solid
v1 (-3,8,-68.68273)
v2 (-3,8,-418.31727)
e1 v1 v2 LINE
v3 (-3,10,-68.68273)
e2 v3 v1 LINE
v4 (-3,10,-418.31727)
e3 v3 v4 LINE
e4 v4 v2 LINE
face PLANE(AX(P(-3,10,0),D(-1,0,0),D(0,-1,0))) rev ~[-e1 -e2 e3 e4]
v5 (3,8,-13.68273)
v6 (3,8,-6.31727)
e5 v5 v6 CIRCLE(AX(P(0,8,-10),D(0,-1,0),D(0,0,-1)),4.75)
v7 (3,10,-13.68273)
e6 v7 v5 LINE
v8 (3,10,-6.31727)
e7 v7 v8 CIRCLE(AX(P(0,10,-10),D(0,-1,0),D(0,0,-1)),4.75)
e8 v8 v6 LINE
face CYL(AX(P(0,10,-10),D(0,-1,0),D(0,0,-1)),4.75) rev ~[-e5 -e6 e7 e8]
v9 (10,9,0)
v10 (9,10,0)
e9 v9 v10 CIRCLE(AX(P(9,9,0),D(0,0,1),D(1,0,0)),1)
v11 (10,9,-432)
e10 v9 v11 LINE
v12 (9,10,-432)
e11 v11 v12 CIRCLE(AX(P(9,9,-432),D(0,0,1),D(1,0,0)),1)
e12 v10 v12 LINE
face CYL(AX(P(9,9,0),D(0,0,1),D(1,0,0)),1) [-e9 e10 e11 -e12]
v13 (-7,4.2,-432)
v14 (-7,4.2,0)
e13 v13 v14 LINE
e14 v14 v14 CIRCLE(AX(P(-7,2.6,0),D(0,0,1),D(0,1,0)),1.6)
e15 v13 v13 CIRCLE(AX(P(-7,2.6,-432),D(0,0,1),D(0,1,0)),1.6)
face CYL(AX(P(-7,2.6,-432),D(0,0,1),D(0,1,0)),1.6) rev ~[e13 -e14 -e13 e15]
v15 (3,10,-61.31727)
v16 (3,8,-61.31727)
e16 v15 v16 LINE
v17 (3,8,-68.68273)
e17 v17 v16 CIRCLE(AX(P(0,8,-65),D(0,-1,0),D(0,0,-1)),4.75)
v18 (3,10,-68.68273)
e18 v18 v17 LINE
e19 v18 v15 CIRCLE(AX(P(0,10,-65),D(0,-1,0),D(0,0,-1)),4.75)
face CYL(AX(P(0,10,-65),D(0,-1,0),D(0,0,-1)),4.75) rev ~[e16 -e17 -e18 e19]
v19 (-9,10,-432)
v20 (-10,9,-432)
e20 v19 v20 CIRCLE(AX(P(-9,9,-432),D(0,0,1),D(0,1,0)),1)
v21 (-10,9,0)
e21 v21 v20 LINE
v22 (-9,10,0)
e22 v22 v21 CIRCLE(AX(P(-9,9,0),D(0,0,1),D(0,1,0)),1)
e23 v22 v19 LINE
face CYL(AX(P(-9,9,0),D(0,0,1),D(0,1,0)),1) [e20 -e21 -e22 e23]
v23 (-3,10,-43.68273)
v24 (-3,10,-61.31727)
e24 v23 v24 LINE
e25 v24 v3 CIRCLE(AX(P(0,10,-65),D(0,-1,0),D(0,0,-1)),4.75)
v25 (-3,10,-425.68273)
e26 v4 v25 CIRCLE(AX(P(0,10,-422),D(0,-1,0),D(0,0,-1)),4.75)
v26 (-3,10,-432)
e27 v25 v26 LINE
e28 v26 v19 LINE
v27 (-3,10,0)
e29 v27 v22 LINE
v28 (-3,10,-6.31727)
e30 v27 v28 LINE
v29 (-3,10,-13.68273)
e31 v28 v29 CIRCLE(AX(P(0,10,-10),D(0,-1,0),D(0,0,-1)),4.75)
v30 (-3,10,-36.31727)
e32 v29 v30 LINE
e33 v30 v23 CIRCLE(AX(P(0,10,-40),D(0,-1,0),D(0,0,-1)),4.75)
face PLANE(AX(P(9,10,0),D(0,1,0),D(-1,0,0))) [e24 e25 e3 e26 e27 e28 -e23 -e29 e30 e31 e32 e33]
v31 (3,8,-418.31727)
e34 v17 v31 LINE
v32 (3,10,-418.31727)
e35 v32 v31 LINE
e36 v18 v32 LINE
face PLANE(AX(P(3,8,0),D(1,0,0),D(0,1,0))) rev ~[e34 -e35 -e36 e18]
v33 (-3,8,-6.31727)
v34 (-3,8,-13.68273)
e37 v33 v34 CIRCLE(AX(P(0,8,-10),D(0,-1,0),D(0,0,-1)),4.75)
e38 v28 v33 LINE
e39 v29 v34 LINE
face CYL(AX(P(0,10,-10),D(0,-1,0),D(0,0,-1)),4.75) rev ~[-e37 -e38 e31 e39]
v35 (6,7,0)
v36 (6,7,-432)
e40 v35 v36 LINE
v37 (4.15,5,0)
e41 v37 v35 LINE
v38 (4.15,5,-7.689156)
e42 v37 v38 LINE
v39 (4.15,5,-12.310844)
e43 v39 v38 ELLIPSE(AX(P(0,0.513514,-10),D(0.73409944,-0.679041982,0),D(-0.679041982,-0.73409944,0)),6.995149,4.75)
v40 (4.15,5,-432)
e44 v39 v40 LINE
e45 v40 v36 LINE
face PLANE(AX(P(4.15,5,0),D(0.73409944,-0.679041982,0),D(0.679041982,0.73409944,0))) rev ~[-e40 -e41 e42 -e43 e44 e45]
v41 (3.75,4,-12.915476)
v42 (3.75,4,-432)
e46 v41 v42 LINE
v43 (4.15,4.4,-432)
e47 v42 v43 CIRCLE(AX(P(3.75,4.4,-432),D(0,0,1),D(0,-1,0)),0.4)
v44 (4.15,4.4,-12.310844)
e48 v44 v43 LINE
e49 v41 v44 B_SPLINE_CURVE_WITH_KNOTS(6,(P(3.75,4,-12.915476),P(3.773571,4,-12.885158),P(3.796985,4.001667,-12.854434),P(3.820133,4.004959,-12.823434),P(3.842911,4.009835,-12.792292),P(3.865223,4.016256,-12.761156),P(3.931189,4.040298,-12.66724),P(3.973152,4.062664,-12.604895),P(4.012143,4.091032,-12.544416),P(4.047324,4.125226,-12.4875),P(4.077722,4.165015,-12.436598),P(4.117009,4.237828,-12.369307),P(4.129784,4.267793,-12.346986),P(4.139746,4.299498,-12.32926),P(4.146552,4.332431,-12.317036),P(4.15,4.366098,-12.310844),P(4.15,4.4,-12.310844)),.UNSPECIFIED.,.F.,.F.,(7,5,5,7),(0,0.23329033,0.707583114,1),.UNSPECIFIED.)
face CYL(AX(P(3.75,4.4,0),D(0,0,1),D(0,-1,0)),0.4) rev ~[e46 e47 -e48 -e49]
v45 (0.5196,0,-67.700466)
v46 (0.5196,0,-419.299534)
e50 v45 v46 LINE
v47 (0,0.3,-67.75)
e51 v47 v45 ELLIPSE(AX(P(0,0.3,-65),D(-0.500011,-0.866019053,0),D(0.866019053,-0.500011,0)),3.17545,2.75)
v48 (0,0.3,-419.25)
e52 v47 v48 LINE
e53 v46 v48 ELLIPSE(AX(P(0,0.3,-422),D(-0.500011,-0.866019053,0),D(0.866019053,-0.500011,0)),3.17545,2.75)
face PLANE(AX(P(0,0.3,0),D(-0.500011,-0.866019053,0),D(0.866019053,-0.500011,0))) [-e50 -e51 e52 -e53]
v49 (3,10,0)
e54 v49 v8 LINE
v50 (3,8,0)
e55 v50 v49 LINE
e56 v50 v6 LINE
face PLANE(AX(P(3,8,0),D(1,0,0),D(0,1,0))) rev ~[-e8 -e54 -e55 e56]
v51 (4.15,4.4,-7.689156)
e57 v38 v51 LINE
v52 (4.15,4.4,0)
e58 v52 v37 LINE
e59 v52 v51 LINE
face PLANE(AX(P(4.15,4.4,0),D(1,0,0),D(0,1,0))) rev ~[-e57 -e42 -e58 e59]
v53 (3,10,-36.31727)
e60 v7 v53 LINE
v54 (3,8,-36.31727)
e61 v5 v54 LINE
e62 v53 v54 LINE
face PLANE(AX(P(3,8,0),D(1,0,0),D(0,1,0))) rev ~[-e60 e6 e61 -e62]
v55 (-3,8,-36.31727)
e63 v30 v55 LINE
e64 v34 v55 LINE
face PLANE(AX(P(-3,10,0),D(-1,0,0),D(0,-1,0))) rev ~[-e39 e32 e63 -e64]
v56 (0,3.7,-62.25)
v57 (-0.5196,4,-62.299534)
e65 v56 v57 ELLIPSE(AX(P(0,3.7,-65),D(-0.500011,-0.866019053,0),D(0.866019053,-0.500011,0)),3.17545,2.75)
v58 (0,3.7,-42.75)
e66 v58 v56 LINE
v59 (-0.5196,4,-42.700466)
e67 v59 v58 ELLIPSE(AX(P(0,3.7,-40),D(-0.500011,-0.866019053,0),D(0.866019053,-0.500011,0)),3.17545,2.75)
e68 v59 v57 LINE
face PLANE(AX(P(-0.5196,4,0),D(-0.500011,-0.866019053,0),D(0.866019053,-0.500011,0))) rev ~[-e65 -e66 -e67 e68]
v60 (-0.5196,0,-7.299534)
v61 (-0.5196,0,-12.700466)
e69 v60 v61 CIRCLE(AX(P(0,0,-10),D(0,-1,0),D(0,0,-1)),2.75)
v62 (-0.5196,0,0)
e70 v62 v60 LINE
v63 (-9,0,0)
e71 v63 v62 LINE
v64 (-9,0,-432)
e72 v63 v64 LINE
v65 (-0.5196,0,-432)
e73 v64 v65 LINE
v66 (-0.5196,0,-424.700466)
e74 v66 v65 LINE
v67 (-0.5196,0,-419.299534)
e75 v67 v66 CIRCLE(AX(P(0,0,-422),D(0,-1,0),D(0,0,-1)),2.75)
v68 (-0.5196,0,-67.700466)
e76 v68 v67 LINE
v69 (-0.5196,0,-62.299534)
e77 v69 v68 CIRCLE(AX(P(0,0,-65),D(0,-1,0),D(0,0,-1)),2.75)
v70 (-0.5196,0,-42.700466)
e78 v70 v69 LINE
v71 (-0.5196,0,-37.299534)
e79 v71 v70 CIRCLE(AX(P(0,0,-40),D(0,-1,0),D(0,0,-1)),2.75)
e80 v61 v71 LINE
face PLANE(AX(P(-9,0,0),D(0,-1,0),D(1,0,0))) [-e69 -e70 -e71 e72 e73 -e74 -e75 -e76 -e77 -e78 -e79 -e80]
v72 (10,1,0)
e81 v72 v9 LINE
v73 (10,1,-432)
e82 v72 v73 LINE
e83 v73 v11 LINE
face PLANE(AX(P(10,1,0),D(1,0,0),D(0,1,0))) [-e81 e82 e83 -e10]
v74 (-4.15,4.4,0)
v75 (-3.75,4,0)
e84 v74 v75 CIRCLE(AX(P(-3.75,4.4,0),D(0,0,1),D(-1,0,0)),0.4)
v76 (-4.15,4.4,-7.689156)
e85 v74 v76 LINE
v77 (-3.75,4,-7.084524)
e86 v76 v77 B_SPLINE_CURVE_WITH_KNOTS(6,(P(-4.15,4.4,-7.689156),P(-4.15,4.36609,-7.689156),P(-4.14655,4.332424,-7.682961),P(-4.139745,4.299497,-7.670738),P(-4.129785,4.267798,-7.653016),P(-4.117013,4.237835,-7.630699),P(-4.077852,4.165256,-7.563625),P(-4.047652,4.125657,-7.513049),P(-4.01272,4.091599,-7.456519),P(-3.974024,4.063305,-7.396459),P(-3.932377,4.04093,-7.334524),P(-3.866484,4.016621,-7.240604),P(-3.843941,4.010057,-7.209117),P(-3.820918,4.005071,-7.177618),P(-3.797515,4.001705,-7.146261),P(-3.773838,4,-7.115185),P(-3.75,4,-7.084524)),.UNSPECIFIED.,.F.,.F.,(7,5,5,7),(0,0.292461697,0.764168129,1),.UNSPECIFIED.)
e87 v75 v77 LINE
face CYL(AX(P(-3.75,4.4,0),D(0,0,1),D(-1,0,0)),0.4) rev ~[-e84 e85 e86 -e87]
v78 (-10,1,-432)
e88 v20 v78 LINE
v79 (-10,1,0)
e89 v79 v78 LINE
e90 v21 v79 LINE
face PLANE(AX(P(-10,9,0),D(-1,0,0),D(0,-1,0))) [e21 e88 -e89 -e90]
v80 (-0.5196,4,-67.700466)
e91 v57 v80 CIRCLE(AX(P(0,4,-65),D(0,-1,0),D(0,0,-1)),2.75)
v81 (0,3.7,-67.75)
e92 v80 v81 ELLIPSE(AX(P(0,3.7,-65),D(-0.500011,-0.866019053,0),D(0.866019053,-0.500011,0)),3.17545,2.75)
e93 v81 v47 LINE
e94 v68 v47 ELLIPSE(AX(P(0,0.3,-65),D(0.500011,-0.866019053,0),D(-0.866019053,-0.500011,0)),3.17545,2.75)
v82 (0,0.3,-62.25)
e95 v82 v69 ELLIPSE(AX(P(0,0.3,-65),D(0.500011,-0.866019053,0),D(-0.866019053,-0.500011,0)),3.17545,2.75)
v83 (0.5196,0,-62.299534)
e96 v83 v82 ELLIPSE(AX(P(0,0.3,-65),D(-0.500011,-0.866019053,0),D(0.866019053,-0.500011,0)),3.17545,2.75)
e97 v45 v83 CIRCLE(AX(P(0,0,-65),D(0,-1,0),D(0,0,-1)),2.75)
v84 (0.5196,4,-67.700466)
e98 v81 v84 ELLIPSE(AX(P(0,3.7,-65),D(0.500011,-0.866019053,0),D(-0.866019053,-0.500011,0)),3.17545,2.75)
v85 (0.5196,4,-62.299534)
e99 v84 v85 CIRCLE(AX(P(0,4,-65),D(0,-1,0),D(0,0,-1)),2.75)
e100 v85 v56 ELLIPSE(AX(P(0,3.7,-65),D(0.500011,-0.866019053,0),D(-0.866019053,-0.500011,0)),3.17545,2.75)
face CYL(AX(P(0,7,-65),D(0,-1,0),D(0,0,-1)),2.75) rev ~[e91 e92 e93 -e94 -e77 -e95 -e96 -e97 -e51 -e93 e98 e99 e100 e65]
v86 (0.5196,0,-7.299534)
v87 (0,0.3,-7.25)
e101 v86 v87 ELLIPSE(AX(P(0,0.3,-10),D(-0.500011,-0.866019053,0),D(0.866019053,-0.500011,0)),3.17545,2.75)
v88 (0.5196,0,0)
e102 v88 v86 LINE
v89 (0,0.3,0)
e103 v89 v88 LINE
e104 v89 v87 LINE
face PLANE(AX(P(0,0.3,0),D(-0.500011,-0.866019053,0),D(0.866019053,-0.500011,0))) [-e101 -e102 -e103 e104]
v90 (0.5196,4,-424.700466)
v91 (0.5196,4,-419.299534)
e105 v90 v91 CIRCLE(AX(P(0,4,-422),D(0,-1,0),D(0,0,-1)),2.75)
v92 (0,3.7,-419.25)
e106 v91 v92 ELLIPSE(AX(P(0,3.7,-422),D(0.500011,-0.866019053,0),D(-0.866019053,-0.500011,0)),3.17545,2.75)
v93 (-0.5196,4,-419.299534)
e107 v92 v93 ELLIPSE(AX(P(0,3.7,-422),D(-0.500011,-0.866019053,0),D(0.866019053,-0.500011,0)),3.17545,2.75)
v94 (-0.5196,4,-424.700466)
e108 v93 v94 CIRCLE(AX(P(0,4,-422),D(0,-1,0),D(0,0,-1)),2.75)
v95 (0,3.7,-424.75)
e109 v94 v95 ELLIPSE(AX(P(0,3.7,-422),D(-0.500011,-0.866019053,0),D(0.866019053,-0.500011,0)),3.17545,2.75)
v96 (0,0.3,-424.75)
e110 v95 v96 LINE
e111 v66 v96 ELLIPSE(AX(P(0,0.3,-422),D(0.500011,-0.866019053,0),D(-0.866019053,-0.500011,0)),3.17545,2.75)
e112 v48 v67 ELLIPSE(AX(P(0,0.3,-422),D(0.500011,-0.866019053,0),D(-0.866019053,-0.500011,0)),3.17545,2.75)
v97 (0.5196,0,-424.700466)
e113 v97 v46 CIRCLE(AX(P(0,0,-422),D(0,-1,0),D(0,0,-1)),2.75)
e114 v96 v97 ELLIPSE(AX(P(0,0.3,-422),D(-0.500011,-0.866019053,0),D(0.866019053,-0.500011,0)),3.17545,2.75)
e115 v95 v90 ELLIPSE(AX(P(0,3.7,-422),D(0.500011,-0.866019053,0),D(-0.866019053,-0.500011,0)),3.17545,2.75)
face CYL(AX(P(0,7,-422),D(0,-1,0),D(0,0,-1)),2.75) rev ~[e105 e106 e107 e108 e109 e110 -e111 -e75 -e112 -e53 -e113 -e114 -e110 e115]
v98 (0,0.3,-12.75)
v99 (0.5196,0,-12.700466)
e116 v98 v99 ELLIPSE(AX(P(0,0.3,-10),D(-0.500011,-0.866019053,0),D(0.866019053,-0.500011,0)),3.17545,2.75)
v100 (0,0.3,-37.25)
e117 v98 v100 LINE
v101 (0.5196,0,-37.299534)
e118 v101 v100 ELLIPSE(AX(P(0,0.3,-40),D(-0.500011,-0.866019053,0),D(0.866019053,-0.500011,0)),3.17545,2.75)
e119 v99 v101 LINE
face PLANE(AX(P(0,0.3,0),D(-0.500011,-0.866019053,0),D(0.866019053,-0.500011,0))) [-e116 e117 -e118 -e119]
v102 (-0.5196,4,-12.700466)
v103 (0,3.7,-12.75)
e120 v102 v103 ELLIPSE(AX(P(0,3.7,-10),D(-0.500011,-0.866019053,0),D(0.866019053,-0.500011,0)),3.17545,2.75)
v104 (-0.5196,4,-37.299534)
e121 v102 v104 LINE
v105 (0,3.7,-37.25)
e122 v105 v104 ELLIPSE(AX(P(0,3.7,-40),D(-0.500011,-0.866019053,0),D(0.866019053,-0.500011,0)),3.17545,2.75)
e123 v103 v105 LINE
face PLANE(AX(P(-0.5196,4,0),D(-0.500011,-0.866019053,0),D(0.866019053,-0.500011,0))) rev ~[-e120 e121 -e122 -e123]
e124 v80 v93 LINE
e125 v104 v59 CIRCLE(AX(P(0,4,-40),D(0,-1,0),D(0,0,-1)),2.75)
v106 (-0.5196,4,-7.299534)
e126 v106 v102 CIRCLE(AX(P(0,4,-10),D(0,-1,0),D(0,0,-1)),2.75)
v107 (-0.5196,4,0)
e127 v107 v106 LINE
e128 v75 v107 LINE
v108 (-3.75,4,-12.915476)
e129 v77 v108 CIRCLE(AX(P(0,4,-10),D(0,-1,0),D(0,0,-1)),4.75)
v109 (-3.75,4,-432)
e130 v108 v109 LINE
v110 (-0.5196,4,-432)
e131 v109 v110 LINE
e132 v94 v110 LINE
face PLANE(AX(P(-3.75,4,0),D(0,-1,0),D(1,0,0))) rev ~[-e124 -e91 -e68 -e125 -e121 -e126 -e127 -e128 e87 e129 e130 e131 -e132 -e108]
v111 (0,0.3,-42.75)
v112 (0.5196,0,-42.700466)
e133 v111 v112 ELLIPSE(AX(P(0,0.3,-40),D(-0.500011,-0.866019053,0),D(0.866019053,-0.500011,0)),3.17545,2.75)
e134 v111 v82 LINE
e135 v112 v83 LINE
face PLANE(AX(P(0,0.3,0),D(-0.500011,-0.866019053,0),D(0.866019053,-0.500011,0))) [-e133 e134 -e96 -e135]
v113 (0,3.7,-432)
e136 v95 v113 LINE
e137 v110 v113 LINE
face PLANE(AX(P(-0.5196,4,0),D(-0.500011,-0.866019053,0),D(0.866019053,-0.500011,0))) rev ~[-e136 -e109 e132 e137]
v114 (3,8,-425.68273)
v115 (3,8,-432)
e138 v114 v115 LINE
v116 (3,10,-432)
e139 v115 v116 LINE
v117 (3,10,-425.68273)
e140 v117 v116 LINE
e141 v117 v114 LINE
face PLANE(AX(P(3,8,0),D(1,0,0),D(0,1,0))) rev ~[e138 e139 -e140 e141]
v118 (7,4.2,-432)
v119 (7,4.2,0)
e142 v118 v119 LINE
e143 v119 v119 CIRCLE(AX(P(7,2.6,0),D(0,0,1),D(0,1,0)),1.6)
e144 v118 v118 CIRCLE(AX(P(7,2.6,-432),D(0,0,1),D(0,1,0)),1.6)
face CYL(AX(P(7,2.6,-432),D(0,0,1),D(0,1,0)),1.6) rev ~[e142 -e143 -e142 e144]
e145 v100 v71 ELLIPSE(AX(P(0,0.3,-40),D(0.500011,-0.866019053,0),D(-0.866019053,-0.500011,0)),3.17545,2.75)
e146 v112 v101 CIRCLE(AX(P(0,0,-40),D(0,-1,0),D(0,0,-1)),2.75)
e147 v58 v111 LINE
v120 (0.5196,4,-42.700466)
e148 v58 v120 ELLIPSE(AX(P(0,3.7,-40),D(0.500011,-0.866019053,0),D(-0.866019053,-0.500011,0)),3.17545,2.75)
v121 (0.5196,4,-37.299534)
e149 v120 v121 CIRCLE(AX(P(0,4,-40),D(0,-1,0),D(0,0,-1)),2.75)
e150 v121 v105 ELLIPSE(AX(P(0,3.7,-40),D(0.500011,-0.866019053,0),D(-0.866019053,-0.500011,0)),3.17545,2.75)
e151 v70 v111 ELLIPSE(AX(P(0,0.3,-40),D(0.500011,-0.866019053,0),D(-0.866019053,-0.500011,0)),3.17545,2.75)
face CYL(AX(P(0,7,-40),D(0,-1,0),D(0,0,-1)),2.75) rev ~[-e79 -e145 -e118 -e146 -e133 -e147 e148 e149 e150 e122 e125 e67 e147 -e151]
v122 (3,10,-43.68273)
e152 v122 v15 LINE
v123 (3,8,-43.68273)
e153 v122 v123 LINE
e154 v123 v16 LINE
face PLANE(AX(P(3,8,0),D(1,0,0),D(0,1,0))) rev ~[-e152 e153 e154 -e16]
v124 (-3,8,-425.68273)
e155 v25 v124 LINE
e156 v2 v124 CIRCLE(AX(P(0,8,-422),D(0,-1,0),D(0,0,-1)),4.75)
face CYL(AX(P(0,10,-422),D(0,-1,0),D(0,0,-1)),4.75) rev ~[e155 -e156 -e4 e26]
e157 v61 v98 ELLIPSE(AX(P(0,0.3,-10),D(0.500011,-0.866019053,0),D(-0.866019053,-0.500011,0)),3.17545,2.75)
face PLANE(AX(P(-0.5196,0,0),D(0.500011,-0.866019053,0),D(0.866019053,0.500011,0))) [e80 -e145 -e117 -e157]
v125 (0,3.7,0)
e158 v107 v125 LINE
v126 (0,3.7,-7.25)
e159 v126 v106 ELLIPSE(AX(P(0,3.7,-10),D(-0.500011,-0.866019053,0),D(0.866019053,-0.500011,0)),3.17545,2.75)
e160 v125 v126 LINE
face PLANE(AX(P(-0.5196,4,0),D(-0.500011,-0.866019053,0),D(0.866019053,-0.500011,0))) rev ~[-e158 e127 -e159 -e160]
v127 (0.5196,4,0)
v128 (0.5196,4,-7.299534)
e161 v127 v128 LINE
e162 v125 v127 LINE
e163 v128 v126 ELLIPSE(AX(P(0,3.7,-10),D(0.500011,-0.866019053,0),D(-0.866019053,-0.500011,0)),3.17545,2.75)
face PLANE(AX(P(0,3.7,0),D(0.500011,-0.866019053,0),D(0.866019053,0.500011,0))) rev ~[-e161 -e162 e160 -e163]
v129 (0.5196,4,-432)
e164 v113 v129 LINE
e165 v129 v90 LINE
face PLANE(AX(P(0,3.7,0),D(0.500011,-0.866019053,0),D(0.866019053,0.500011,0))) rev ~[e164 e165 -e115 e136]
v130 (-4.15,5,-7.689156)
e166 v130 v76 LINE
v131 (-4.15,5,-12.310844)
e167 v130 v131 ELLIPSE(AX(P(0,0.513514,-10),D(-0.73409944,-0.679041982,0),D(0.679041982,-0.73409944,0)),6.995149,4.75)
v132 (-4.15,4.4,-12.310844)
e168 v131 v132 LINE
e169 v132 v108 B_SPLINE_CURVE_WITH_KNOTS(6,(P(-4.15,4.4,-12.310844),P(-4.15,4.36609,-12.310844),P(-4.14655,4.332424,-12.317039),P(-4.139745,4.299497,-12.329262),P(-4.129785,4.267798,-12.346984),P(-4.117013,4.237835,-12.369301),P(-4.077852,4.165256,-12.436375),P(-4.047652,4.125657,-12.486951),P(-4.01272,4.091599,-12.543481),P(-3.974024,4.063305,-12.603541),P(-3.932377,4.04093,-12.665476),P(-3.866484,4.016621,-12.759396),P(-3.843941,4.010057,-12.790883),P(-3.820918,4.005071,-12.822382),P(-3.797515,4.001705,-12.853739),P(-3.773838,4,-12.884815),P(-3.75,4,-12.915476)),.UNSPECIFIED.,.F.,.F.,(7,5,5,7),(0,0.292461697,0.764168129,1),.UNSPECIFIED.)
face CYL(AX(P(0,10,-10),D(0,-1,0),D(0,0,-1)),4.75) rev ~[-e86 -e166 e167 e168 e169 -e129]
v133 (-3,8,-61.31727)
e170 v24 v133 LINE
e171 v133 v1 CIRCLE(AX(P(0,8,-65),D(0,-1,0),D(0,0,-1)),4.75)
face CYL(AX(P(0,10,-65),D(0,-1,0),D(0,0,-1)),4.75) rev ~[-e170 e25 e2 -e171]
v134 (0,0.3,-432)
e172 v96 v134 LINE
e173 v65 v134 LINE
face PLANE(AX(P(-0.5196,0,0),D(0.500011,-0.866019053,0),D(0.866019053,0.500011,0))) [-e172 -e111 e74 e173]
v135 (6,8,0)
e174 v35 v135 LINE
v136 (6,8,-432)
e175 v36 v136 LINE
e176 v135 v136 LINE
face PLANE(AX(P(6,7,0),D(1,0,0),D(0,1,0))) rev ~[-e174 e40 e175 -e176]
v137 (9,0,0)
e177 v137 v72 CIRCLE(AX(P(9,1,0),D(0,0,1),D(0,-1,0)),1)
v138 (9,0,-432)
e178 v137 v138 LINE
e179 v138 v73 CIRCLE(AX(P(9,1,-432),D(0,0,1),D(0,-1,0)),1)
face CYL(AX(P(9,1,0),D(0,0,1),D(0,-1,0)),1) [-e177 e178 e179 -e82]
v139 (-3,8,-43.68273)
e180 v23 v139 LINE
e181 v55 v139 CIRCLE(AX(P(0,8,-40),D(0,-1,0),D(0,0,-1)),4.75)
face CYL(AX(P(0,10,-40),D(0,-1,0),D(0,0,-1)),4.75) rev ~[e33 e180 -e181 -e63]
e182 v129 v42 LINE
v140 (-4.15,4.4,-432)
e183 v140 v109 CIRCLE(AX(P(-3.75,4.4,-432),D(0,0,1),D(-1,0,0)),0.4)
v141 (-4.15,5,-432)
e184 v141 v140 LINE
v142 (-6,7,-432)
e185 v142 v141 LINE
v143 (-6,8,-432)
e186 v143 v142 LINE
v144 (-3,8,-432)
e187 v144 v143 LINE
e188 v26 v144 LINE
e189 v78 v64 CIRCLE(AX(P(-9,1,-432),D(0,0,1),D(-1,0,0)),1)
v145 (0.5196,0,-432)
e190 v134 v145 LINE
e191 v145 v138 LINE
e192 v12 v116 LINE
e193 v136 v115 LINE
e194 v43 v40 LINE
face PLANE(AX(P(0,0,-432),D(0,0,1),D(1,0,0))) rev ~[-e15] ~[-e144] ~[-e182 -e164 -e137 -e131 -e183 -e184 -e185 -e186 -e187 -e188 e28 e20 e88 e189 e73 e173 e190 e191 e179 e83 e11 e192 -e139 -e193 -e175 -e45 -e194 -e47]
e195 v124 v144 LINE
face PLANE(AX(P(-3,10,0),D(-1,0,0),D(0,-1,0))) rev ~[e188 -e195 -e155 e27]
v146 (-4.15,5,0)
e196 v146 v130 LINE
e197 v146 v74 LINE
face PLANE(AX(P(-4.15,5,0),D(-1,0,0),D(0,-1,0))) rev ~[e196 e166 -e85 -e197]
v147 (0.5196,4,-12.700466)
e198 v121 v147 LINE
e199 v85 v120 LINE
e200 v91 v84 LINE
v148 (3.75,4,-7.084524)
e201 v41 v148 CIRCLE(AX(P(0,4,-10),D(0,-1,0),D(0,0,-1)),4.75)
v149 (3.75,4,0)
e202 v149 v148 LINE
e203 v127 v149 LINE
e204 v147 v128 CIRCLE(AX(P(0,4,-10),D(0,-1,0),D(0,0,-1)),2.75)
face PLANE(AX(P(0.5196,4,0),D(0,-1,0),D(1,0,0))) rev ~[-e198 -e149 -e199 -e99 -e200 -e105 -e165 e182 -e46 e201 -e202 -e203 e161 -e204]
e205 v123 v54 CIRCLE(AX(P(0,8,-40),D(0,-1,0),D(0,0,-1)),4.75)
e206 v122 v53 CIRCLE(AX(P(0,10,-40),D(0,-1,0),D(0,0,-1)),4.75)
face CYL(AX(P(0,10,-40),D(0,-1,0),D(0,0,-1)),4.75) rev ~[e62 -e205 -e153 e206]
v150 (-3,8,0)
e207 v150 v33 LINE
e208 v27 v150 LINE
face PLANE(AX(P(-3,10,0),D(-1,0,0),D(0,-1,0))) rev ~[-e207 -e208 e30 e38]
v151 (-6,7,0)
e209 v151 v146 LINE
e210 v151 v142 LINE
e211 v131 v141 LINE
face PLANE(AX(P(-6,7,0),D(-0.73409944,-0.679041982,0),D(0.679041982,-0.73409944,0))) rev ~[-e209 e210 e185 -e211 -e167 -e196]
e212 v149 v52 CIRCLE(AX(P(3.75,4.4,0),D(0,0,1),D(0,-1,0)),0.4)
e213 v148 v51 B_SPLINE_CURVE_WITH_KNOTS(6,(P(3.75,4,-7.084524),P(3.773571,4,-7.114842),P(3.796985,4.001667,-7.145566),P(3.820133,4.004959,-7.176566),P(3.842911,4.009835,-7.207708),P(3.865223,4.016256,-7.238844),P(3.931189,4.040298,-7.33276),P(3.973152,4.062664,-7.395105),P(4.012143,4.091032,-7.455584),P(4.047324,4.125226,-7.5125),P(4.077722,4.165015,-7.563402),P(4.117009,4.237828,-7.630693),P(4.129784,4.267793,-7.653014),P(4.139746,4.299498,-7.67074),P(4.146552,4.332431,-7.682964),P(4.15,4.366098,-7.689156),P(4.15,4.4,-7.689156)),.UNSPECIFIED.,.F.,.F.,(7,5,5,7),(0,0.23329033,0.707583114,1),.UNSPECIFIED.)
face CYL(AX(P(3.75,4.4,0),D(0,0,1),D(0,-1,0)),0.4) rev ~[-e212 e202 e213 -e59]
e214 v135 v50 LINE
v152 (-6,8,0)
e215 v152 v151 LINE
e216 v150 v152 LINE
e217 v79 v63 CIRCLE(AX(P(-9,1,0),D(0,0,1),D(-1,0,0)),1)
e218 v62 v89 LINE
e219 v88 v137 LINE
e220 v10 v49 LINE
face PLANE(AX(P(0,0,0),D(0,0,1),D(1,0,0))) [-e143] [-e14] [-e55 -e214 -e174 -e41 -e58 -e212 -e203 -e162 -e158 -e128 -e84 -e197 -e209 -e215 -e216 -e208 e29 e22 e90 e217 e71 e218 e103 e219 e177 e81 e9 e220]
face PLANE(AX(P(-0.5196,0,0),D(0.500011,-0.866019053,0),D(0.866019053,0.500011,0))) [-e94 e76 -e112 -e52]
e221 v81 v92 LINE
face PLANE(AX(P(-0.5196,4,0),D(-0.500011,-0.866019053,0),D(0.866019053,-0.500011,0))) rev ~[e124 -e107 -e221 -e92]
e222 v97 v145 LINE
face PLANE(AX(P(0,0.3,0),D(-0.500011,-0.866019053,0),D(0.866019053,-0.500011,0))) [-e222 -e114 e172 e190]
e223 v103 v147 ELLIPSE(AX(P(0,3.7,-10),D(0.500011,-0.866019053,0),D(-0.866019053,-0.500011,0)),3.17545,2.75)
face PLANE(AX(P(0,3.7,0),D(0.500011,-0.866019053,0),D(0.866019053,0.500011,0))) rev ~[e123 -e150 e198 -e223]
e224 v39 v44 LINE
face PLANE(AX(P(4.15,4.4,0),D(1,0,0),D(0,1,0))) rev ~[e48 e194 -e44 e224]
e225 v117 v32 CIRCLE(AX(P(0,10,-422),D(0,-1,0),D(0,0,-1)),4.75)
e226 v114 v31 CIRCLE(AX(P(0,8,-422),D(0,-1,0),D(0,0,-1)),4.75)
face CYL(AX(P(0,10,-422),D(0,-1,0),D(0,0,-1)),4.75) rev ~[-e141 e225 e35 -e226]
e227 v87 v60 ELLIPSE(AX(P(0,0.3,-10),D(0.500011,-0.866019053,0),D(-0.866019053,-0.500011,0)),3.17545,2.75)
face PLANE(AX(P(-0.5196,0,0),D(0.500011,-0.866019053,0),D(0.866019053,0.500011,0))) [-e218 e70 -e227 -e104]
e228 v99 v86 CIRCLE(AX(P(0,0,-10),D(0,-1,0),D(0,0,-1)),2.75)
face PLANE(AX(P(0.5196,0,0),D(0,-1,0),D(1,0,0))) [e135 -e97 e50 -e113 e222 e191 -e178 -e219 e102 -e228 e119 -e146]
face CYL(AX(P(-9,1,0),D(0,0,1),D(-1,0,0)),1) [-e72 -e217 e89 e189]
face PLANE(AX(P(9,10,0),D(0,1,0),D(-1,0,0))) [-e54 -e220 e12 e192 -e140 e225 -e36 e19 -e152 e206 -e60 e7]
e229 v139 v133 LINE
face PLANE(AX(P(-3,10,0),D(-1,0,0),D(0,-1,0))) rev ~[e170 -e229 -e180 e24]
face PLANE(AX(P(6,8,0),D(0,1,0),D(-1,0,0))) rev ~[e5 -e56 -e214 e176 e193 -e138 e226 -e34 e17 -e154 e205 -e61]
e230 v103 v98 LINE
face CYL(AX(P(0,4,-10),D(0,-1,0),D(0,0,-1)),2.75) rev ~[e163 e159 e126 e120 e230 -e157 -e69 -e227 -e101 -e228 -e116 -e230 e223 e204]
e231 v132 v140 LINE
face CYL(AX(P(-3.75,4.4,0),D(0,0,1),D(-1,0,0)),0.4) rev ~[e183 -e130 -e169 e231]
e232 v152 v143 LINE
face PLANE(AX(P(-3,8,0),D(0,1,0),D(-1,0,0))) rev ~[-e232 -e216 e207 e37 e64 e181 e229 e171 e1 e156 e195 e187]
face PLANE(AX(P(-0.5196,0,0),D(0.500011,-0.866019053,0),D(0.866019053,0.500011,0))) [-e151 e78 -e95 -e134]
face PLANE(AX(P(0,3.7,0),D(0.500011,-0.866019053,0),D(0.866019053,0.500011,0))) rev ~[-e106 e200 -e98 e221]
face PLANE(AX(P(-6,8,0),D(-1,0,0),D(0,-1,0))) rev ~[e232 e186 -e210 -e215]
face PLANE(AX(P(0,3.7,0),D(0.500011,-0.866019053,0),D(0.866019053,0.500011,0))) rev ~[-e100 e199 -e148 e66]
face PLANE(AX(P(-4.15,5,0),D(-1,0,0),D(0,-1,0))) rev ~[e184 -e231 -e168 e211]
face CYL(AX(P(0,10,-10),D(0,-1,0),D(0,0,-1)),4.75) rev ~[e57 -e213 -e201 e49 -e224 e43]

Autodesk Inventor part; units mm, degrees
ref_plane "YZ Plane" through (0, 0, 0) normal (1, 0, 0) x (0, 1, 0)
ref_plane "XZ Plane" through (0, 0, 0) normal (0, 1, 0) x (-1, 0, 0)
ref_plane "XY Plane" through (0, 0, 0) normal (0, 0, 1) x (1, 0, 0)
sketch "_____1" plane through (0, 0, 0) normal (0, 0, 1) x (1, 0, 0)
  arc A0 (-10, 1) -> (-9, 0) centre (-9, 1) ccw
  line L0 (-9, 0) -> (-0.5196, 0)
  line L1 (-0.5196, 0) -> (0, 0.3)
  line L2 (0, 0.3) -> (0.5196, 0)
  line L3 (0.5196, 0) -> (9, 0)
  arc A1 (9, 0) -> (10, 1) centre (9, 1) ccw
  line L4 (10, 1) -> (10, 9)
  arc A2 (10, 9) -> (9, 10) centre (9, 9) ccw
  line L5 (9, 10) -> (-9, 10)
  arc A3 (-9, 10) -> (-10, 9) centre (-9, 9) ccw
  line L6 (-10, 9) -> (-10, 1)
extrude "Extrusion1" add sketch "_____1" against normal blind 432
sketch "_____2" plane through (0, 0, 0) normal (0, 0, 1) x (1, 0, 0)
  line L0 (-6, 8) -> (-6, 7)
  line L1 (-6, 7) -> (-4.15, 5)
  line L2 (-4.15, 5) -> (-4.15, 4.4)
  arc A0 (-4.15, 4.4) -> (-3.75, 4) centre (-3.75, 4.4) ccw
  line L3 (-3.75, 4) -> (-0.5196, 4)
  line L4 (-0.5196, 4) -> (0, 3.7)
  line L5 (0, 3.7) -> (0.5196, 4)
  line L6 (0.5196, 4) -> (3.75, 4)
  arc A1 (3.75, 4) -> (4.15, 4.4) centre (3.75, 4.4) ccw
  line L7 (4.15, 4.4) -> (4.15, 5)
  line L8 (4.15, 5) -> (6, 7)
  line L9 (6, 7) -> (6, 8)
  line L10 (6, 8) -> (3, 8)
  line L11 (3, 8) -> (3, 10)
  line L12 (3, 10) -> (-3, 10)
  line L13 (-3, 10) -> (-3, 8)
  line L14 (-3, 8) -> (-6, 8)
extrude "Extrusion2" cut sketch "_____2" against normal blind 432
sketch "Sketch3" plane through (0, 0, -432) normal (0, 0, -1) x (-1, 0, 0)
  point P0 (-7, 2.6)
hole "Hole1" at (7, 2.6, -432) direction (0, 0, 1) diameter 3.2 depth 432
sketch "Sketch4" plane through (0, 0, -432) normal (0, 0, -1) x (-1, 0, 0)
  point P0 (7, 2.6)
hole "Hole2" at (-7, 2.6, -432) direction (0, 0, 1) diameter 3.2 depth 432
sketch "_____5" plane through (0, 0, 0) normal (1, 0, 0) x (0, 0, -1)
  line L0 (10, 0) -> (10, 10)
  line L1 (10, 10) -> (14.75, 10)
  line L2 (14.75, 10) -> (14.75, 4)
  line L3 (14.75, 4) -> (12.75, 4)
  line L4 (12.75, 4) -> (12.75, 0)
  line L5 (12.75, 0) -> (10, 0)
  line L6 (10, 0) -> (10, 10)
revolve "Revolution1" cut sketch "_____5" angle 360 about axis through (0, 0, -10) along (0, -1, 0)
sketch "_____6" plane through (0, 0, 0) normal (1, 0, 0) x (0, 0, -1)
  line L0 (40, 0) -> (40, 10)
  line L1 (40, 10) -> (44.75, 10)
  line L2 (44.75, 10) -> (44.75, 7)
  line L3 (44.75, 7) -> (42.75, 7)
  line L4 (42.75, 7) -> (42.75, 0)
  line L5 (42.75, 0) -> (40, 0)
  line L6 (40, 0) -> (40, 10)
revolve "Revolution2" cut sketch "_____6" angle 360 about axis through (0, 0, -40) along (0, -1, 0)
sketch "_____7" plane through (0, 0, 0) normal (1, 0, 0) x (0, 0, -1)
  line L0 (65, 0) -> (65, 10)
  line L1 (65, 10) -> (69.75, 10)
  line L2 (69.75, 10) -> (69.75, 7)
  line L3 (69.75, 7) -> (67.75, 7)
  line L4 (67.75, 7) -> (67.75, 0)
  line L5 (67.75, 0) -> (65, 0)
  line L6 (65, 0) -> (65, 10)
revolve "Revolution3" cut sketch "_____7" angle 360 about axis through (0, 0, -65) along (0, -1, 0)
sketch "_____8" plane through (0, 0, 0) normal (1, 0, 0) x (0, 0, -1)
  line L0 (422, 0) -> (422, 10)
  line L1 (422, 10) -> (426.75, 10)
  line L2 (426.75, 10) -> (426.75, 7)
  line L3 (426.75, 7) -> (424.75, 7)
  line L4 (424.75, 7) -> (424.75, 0)
  line L5 (424.75, 0) -> (422, 0)
  line L6 (422, 0) -> (422, 10)
revolve "Revolution4" cut sketch "_____8" angle 360 about axis through (0, 0, -422) along (0, -1, 0)
properties part number "HFSFIN5-1020-432-Z5-XA10-XB40-XC65-XD422"
